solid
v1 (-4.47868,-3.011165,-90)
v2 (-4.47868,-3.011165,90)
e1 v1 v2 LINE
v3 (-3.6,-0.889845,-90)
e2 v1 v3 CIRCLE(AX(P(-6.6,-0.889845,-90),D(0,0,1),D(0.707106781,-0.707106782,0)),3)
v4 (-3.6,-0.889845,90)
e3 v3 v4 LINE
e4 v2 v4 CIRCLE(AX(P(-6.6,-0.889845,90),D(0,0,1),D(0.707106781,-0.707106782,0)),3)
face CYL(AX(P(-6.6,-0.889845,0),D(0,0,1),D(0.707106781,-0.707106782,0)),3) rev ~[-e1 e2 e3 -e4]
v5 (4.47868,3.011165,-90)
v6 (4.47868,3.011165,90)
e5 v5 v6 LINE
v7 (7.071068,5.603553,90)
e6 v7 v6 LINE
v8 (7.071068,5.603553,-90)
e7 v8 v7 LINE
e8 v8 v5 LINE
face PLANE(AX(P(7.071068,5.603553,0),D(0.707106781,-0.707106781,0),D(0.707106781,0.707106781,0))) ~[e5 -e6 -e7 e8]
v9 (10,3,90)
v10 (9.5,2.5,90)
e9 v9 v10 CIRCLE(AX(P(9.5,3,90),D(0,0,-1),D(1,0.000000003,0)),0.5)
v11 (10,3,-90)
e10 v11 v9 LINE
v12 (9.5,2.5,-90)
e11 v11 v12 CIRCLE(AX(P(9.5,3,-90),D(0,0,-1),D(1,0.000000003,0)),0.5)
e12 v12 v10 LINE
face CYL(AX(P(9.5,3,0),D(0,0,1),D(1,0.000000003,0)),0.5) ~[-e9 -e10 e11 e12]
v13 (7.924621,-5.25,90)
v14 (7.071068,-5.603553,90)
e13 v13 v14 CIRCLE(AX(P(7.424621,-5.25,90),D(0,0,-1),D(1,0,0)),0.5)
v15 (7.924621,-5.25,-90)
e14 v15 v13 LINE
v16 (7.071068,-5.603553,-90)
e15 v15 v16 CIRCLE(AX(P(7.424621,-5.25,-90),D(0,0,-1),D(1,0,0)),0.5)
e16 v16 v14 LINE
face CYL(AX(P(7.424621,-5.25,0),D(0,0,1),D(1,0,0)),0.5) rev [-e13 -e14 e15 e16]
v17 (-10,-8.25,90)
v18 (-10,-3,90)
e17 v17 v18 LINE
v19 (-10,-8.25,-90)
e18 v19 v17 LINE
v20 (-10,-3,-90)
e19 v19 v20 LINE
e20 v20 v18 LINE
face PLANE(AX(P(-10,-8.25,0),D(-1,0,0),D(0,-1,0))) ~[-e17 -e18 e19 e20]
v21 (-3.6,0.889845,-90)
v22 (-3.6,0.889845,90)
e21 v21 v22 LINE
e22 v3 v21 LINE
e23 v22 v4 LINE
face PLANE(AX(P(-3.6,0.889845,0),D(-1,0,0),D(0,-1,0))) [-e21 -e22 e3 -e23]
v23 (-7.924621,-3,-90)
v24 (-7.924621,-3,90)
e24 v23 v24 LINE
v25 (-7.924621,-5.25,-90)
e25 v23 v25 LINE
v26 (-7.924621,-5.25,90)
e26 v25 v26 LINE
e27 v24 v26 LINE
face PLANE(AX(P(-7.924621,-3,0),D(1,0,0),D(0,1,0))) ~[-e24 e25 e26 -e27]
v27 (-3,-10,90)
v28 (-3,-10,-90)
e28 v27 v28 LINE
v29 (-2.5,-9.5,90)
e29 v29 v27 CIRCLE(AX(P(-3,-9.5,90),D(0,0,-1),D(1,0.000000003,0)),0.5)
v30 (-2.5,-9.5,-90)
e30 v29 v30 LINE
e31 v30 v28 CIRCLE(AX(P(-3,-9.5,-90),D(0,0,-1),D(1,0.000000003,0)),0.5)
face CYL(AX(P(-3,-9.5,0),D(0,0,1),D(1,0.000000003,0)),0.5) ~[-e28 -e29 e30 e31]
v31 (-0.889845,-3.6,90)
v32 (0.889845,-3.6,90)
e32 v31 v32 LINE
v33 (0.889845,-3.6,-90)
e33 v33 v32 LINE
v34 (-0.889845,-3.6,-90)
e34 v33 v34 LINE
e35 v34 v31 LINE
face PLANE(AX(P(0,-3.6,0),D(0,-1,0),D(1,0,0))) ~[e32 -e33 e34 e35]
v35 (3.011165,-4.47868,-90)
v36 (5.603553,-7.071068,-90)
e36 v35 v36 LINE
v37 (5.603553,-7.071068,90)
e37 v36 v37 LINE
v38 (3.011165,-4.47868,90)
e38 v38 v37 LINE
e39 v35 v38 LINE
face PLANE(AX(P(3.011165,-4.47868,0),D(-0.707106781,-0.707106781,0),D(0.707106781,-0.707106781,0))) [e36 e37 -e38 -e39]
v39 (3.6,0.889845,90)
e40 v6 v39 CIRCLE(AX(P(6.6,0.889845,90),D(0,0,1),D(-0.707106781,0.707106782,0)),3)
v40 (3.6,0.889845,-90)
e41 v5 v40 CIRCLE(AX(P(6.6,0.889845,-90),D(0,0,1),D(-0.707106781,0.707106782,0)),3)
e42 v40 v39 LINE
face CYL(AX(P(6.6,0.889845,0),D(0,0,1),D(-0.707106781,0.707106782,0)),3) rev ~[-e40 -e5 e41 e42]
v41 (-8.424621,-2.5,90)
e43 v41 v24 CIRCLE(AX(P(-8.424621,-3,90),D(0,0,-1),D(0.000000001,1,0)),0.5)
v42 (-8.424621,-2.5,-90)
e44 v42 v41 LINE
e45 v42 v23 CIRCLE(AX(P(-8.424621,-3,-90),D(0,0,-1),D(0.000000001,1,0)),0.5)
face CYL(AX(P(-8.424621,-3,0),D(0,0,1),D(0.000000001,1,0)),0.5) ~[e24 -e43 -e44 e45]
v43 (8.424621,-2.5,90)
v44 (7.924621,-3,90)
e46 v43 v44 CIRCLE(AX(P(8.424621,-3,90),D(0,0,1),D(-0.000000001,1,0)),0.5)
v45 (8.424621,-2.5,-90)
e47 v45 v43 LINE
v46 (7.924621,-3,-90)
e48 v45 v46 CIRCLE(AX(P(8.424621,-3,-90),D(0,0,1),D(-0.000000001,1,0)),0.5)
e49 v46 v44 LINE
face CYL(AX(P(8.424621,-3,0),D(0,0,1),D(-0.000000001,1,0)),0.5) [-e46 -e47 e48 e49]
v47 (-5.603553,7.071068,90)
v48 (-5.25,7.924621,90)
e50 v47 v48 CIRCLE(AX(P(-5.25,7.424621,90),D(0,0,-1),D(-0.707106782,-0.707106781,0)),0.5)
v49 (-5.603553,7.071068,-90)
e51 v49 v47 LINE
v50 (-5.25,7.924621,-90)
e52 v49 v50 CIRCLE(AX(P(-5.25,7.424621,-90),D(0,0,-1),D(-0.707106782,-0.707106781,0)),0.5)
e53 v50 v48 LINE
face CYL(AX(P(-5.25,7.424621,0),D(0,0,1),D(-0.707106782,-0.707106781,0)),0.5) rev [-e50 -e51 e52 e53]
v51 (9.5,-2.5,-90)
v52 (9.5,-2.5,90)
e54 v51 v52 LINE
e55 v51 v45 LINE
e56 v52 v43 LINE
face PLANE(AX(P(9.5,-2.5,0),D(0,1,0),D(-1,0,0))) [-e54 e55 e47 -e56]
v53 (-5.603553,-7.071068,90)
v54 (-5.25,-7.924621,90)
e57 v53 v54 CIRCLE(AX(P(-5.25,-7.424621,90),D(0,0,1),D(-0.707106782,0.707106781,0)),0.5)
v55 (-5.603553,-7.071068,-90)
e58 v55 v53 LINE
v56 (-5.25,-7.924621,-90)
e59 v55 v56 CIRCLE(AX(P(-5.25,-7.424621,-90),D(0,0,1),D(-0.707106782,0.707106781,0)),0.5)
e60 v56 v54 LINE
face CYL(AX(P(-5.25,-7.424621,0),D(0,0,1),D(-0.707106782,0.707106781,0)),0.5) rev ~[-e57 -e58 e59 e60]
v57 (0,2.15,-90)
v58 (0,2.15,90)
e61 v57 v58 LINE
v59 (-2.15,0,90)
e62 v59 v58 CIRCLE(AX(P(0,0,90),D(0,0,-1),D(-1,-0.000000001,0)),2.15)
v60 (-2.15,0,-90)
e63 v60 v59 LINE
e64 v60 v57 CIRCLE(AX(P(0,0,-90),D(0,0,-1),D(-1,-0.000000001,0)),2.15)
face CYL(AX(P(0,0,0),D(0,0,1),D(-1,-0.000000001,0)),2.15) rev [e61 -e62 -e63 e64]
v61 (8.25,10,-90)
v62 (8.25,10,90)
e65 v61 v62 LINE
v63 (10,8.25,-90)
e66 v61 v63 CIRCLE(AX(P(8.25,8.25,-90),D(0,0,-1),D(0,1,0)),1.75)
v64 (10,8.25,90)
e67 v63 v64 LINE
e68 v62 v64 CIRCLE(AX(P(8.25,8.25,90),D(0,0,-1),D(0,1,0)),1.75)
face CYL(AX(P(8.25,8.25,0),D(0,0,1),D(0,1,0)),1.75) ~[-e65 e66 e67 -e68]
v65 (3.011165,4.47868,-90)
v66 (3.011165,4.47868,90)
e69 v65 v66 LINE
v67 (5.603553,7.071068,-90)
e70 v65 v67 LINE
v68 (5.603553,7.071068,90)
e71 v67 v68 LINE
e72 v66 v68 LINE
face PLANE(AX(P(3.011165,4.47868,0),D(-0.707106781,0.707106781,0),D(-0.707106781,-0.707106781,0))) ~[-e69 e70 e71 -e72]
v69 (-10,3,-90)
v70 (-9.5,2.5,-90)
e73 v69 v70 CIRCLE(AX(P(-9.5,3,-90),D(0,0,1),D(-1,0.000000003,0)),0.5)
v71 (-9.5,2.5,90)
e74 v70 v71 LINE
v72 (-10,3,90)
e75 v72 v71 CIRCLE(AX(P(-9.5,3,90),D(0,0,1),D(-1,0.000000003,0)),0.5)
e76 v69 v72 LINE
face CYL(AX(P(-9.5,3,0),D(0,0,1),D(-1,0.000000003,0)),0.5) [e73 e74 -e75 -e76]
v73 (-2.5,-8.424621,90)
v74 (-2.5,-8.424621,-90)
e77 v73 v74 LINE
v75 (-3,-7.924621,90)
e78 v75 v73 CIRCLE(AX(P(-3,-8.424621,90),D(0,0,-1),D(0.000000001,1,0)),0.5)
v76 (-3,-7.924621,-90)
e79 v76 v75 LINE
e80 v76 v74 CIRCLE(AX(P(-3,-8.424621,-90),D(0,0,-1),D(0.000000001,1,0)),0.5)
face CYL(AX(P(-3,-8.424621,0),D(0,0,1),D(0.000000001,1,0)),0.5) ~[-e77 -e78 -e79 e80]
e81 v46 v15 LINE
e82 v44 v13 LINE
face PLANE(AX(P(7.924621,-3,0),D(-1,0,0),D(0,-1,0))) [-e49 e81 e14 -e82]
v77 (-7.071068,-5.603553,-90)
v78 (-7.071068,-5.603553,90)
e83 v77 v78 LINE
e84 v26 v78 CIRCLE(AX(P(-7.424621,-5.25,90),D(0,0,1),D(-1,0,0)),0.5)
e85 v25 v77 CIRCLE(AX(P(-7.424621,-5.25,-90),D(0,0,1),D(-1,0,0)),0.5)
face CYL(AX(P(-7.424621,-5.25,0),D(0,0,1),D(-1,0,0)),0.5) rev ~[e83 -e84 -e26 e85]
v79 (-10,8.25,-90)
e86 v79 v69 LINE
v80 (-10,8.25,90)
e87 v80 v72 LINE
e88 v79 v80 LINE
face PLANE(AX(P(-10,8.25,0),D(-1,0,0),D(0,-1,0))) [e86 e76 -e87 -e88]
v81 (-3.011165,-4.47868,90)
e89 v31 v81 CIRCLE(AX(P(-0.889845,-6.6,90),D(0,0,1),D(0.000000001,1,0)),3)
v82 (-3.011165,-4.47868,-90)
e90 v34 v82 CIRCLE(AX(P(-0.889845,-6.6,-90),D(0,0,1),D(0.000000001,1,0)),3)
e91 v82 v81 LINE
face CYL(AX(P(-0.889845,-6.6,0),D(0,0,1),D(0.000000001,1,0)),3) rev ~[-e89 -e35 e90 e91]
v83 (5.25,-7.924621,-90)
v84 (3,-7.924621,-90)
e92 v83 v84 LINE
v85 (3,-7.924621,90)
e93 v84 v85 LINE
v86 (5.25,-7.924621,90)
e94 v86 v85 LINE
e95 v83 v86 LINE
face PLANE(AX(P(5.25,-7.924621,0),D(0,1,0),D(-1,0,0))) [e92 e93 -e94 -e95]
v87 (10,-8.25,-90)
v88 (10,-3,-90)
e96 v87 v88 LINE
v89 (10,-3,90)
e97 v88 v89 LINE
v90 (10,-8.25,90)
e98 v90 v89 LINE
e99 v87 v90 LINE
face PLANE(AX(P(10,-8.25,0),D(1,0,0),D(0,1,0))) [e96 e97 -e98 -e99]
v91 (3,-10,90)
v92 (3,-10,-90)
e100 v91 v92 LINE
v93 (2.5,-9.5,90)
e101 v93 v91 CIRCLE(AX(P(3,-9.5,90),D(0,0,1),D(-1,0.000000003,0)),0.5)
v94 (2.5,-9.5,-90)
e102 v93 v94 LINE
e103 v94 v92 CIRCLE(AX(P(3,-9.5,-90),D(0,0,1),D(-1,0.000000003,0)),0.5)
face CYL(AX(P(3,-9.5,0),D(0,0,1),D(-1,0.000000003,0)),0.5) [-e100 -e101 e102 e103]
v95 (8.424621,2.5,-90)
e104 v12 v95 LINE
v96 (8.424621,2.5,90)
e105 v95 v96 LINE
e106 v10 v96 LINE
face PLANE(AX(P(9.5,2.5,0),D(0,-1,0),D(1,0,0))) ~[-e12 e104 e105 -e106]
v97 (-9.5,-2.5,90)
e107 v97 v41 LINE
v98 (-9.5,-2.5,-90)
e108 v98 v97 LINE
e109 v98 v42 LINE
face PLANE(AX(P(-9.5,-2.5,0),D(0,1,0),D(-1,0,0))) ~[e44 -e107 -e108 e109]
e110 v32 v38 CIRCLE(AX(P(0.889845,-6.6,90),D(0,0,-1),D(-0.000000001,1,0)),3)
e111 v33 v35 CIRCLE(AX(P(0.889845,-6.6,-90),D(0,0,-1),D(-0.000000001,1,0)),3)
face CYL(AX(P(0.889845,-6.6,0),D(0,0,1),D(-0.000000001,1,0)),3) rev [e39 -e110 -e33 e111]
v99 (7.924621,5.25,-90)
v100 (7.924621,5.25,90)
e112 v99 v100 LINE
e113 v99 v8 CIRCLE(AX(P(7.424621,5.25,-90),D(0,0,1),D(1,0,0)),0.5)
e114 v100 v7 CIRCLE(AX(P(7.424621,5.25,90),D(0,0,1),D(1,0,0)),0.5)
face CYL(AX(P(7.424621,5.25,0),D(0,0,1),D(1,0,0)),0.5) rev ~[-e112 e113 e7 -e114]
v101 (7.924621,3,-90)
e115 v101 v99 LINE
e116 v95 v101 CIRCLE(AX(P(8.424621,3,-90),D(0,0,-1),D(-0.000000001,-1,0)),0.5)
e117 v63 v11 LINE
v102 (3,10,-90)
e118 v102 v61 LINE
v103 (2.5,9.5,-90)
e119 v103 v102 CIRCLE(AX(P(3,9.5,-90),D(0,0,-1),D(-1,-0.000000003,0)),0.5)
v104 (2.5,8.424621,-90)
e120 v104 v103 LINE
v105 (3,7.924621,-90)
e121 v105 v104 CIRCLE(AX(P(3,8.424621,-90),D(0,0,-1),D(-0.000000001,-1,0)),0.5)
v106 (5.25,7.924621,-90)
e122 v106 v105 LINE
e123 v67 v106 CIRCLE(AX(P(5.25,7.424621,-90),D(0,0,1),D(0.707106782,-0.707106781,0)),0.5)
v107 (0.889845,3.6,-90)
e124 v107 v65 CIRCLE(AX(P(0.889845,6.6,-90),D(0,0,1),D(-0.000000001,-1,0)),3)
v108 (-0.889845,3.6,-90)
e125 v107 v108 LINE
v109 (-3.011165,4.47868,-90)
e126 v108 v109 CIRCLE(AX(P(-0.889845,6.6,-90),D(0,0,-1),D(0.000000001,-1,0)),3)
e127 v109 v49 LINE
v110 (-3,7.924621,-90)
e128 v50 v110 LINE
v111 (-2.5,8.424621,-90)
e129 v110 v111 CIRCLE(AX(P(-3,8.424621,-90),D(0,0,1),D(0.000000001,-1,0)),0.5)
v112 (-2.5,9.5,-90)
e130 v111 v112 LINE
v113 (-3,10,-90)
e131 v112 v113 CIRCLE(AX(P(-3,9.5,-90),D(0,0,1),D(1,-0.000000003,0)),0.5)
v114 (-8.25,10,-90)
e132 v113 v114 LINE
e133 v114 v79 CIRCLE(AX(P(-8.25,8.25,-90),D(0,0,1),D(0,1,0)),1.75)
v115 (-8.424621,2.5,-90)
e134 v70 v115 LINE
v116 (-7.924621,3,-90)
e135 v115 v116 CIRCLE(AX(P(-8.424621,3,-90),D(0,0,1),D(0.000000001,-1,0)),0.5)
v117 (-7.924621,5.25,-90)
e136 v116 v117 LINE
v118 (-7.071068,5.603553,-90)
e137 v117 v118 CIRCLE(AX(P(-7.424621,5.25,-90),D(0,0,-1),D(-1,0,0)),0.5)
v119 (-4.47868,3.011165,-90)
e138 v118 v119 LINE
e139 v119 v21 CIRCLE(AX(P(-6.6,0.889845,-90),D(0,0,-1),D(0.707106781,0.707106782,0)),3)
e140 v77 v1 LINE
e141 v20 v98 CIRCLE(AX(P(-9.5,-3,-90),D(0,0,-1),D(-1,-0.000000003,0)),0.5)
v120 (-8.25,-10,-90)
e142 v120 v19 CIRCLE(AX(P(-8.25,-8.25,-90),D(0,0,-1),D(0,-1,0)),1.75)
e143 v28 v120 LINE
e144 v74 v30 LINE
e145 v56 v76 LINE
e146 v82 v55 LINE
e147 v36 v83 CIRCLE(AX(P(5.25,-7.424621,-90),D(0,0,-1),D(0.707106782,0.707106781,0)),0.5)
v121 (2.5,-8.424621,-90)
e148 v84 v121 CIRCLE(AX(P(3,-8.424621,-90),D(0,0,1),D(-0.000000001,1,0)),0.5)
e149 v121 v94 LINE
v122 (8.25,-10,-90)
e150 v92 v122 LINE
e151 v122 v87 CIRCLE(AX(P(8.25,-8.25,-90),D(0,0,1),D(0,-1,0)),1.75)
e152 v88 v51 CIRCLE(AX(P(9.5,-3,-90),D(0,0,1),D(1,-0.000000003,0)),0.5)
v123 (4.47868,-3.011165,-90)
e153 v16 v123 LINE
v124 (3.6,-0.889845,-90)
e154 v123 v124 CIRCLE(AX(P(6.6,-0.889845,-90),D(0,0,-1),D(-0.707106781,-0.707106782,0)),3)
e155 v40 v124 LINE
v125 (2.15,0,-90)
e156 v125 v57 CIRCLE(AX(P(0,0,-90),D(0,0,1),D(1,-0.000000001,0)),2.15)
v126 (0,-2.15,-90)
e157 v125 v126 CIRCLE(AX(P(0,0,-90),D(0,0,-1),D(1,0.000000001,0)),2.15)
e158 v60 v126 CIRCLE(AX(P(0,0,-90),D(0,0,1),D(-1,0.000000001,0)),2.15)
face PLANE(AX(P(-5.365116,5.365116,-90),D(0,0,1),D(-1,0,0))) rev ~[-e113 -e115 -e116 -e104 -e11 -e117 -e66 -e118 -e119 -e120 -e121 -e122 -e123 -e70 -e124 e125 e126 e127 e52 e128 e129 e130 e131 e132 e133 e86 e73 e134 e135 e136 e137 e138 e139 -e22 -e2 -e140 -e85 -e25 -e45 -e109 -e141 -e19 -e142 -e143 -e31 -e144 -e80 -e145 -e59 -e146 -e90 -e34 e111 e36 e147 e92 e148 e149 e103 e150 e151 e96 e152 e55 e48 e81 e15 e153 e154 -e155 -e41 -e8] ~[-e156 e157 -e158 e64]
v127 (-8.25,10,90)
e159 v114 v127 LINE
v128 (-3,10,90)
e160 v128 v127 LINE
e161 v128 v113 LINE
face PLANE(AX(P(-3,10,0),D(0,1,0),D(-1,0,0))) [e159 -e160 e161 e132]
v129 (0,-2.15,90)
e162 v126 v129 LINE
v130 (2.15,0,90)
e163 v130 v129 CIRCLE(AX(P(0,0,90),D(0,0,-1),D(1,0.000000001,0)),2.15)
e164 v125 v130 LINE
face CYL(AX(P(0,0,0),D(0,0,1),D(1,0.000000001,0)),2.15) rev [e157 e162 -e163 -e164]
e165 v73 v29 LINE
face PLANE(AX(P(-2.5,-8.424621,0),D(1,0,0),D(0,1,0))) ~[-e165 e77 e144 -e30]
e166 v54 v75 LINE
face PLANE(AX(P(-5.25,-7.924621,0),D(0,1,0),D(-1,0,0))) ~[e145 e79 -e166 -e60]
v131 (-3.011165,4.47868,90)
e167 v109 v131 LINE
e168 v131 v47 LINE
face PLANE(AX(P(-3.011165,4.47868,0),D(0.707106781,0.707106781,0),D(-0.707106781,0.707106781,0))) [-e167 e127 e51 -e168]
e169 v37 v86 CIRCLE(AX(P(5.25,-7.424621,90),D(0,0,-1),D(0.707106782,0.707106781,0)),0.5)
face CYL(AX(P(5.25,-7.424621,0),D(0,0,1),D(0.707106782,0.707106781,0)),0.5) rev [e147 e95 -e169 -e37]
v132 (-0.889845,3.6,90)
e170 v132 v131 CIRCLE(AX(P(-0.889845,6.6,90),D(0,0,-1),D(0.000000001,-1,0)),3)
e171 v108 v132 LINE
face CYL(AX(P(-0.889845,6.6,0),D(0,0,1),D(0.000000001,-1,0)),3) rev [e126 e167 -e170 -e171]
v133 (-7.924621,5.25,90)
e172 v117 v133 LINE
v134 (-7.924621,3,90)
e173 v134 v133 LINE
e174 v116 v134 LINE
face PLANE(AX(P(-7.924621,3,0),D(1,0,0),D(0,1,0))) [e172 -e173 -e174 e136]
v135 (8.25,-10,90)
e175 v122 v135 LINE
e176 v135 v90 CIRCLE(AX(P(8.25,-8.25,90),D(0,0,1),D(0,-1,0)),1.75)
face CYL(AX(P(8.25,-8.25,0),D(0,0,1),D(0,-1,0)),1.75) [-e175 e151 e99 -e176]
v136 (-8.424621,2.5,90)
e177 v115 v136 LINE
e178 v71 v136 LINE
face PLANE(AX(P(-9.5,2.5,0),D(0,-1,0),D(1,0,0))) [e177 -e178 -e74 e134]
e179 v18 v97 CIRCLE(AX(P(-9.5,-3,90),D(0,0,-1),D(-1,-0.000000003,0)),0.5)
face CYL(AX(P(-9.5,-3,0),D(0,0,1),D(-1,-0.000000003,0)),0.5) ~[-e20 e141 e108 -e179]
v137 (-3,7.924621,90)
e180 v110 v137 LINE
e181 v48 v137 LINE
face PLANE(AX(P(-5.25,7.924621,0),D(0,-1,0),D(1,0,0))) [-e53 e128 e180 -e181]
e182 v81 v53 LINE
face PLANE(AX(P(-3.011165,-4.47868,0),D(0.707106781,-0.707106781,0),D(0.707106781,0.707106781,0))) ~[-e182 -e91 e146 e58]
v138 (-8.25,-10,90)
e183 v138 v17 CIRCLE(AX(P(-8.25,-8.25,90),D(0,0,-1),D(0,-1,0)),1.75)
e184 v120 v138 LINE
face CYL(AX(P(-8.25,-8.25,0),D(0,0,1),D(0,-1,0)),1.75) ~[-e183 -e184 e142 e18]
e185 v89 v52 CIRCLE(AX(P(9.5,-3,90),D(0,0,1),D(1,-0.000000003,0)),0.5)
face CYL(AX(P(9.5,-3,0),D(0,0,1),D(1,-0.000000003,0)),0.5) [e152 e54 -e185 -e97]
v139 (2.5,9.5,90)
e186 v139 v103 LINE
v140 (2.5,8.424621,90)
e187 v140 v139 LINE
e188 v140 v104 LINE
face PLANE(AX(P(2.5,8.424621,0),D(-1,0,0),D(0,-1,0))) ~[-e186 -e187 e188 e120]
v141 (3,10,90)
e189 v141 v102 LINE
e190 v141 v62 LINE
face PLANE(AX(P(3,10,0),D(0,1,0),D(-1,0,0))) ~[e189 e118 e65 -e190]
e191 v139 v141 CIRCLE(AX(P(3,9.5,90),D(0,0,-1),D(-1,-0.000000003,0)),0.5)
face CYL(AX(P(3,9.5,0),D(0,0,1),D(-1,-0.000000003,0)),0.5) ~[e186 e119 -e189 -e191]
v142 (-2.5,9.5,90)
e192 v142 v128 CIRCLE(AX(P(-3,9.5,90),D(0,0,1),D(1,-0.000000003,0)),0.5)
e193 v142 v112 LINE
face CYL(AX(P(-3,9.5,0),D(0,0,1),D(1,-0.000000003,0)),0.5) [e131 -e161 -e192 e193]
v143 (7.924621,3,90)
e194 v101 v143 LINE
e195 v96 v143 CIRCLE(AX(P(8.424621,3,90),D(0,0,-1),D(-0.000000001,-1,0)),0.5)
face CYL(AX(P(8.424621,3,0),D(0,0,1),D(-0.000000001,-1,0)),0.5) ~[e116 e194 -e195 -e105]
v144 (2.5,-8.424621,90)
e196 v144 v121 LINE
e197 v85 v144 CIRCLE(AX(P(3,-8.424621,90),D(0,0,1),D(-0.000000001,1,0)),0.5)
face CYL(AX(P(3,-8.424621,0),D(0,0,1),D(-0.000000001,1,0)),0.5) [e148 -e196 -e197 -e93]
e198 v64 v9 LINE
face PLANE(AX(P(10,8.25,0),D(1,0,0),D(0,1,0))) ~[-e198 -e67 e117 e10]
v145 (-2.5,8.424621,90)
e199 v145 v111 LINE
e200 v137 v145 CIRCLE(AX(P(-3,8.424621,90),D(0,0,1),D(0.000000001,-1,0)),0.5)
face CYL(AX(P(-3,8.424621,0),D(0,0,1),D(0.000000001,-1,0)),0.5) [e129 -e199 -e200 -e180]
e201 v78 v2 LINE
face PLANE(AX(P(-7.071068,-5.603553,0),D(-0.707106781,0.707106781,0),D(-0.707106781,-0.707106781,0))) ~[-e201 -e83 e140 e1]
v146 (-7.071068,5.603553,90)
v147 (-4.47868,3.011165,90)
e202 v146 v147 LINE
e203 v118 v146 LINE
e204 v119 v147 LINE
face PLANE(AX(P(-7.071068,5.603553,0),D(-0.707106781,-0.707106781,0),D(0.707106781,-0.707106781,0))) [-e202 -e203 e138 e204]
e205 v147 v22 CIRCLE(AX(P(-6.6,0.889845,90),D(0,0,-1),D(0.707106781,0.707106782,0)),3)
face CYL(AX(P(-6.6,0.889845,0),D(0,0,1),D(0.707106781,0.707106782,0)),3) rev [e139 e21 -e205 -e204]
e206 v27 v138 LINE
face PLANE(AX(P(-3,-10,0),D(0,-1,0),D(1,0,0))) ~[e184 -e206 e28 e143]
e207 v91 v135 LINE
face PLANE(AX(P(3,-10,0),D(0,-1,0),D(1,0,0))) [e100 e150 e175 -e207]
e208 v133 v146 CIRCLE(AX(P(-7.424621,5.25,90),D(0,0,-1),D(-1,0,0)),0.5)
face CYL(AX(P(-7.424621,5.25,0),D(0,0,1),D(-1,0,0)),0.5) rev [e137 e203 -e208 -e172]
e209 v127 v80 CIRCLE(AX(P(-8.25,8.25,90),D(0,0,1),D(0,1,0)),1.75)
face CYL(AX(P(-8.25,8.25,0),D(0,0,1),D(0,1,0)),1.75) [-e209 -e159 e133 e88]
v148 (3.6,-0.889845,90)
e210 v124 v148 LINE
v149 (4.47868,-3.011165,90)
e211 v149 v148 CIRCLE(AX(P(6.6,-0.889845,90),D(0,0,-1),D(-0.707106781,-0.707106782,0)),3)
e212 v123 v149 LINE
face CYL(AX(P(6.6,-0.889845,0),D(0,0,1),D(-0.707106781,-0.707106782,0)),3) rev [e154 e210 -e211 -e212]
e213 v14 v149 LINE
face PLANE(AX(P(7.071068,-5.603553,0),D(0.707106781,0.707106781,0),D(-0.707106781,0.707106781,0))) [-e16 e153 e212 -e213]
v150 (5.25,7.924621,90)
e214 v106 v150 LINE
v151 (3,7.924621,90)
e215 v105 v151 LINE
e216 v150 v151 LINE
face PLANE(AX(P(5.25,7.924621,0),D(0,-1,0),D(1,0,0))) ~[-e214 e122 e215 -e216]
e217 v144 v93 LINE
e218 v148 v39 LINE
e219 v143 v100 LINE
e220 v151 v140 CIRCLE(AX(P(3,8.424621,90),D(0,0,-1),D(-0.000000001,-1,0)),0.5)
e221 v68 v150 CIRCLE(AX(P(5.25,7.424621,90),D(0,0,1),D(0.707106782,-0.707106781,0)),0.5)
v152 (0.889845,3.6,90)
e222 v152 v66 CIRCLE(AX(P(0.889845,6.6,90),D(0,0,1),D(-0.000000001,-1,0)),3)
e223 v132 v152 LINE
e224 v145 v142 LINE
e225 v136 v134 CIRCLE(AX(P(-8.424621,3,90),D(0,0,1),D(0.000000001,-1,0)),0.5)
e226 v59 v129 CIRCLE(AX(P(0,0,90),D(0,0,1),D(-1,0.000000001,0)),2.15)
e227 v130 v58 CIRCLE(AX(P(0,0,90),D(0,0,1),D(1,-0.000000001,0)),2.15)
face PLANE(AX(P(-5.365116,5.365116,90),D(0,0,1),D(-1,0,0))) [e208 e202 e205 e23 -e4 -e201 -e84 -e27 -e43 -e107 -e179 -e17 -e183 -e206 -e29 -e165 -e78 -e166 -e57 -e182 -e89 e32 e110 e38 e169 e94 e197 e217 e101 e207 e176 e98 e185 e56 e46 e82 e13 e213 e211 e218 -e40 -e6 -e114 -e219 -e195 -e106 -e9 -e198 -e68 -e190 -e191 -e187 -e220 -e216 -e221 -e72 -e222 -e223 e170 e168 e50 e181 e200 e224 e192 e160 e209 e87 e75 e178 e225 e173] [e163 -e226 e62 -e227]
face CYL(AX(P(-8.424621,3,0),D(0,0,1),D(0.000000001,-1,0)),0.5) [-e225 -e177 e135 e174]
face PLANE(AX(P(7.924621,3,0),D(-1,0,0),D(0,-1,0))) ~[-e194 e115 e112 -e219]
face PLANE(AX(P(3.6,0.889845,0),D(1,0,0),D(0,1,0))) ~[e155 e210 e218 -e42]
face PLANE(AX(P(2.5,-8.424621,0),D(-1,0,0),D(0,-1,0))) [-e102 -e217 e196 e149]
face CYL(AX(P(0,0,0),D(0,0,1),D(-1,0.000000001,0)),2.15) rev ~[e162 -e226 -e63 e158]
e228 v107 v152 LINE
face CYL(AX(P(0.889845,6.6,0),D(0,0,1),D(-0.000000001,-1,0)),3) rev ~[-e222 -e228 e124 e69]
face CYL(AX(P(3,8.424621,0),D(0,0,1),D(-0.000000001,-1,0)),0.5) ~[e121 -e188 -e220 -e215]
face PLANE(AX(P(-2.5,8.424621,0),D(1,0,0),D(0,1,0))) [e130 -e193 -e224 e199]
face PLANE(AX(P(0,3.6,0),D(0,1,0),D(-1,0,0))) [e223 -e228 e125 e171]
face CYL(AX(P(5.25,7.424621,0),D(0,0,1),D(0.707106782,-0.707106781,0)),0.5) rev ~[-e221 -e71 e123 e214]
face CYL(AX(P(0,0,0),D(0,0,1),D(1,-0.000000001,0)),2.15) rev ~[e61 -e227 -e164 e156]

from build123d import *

# Parameters (mm, degrees)
BOSS_EXTRUDE1_DEPTH = 90


with BuildPart() as part:
    # Sketch4 → Boss-Extrude1 (new, symmetric)
    with BuildSketch(Plane.XY):
        with BuildLine():
            Line((3, -10), (8.25, -10))
            ThreePointArc((8.25, -10), (9.487436867, -9.487436867), (10, -8.25))
            Line((10, -8.25), (10, -3))
            ThreePointArc((10, -3), (9.853553391, -2.646446609), (9.5, -2.5))
            Line((9.5, -2.5), (8.424621202, -2.5))
            ThreePointArc((8.424621202, -2.5), (8.071067812, -2.646446609), (7.924621202, -3))
            Line((7.924621202, -3), (7.924621202, -5.25))
            ThreePointArc((7.924621202, -5.25), (7.615962919, -5.711939766), (7.071067812, -5.603553391))
            Line((7.071067812, -5.603553391), (4.478679656, -3.011165235))
            ThreePointArc((4.478679656, -3.011165235), (3.828361402, -2.037895189), (3.6, -0.889844892))
            Line((3.6, -0.889844892), (3.6, 0))
            Line((3.6, 0), (2.15, 0))
            ThreePointArc((2.15, 0), (1.52027958, -1.52027958), (0, -2.15))
            Line((0, -2.15), (0, -3.6))
            Line((0, -3.6), (0.889844892, -3.6))
            ThreePointArc((0.889844892, -3.6), (2.037895189, -3.828361402), (3.011165235, -4.478679656))
            Line((3.011165235, -4.478679656), (5.603553391, -7.071067812))
            ThreePointArc((5.603553391, -7.071067812), (5.711939766, -7.615962919), (5.25, -7.924621202))
            Line((5.25, -7.924621202), (3, -7.924621202))
            ThreePointArc((3, -7.924621202), (2.646446609, -8.071067812), (2.5, -8.424621202))
            Line((2.5, -8.424621202), (2.5, -9.5))
            ThreePointArc((2.5, -9.5), (2.646446609, -9.853553391), (3, -10))
        make_face()
    extrude(amount=BOSS_EXTRUDE1_DEPTH, both=True)

    # Mirror1: part across plane


with BuildPart() as part_1:
    add(part.part)
    add(part.part.mirror(Plane(origin=(0, 0, 0), x_dir=(0, 0, 1), z_dir=(1, 0, 0))))

    # Mirror2: part across plane


with BuildPart() as part_2:
    add(part_1.part)
    add(part_1.part.mirror(Plane.ZX))


solid = part_2.part
